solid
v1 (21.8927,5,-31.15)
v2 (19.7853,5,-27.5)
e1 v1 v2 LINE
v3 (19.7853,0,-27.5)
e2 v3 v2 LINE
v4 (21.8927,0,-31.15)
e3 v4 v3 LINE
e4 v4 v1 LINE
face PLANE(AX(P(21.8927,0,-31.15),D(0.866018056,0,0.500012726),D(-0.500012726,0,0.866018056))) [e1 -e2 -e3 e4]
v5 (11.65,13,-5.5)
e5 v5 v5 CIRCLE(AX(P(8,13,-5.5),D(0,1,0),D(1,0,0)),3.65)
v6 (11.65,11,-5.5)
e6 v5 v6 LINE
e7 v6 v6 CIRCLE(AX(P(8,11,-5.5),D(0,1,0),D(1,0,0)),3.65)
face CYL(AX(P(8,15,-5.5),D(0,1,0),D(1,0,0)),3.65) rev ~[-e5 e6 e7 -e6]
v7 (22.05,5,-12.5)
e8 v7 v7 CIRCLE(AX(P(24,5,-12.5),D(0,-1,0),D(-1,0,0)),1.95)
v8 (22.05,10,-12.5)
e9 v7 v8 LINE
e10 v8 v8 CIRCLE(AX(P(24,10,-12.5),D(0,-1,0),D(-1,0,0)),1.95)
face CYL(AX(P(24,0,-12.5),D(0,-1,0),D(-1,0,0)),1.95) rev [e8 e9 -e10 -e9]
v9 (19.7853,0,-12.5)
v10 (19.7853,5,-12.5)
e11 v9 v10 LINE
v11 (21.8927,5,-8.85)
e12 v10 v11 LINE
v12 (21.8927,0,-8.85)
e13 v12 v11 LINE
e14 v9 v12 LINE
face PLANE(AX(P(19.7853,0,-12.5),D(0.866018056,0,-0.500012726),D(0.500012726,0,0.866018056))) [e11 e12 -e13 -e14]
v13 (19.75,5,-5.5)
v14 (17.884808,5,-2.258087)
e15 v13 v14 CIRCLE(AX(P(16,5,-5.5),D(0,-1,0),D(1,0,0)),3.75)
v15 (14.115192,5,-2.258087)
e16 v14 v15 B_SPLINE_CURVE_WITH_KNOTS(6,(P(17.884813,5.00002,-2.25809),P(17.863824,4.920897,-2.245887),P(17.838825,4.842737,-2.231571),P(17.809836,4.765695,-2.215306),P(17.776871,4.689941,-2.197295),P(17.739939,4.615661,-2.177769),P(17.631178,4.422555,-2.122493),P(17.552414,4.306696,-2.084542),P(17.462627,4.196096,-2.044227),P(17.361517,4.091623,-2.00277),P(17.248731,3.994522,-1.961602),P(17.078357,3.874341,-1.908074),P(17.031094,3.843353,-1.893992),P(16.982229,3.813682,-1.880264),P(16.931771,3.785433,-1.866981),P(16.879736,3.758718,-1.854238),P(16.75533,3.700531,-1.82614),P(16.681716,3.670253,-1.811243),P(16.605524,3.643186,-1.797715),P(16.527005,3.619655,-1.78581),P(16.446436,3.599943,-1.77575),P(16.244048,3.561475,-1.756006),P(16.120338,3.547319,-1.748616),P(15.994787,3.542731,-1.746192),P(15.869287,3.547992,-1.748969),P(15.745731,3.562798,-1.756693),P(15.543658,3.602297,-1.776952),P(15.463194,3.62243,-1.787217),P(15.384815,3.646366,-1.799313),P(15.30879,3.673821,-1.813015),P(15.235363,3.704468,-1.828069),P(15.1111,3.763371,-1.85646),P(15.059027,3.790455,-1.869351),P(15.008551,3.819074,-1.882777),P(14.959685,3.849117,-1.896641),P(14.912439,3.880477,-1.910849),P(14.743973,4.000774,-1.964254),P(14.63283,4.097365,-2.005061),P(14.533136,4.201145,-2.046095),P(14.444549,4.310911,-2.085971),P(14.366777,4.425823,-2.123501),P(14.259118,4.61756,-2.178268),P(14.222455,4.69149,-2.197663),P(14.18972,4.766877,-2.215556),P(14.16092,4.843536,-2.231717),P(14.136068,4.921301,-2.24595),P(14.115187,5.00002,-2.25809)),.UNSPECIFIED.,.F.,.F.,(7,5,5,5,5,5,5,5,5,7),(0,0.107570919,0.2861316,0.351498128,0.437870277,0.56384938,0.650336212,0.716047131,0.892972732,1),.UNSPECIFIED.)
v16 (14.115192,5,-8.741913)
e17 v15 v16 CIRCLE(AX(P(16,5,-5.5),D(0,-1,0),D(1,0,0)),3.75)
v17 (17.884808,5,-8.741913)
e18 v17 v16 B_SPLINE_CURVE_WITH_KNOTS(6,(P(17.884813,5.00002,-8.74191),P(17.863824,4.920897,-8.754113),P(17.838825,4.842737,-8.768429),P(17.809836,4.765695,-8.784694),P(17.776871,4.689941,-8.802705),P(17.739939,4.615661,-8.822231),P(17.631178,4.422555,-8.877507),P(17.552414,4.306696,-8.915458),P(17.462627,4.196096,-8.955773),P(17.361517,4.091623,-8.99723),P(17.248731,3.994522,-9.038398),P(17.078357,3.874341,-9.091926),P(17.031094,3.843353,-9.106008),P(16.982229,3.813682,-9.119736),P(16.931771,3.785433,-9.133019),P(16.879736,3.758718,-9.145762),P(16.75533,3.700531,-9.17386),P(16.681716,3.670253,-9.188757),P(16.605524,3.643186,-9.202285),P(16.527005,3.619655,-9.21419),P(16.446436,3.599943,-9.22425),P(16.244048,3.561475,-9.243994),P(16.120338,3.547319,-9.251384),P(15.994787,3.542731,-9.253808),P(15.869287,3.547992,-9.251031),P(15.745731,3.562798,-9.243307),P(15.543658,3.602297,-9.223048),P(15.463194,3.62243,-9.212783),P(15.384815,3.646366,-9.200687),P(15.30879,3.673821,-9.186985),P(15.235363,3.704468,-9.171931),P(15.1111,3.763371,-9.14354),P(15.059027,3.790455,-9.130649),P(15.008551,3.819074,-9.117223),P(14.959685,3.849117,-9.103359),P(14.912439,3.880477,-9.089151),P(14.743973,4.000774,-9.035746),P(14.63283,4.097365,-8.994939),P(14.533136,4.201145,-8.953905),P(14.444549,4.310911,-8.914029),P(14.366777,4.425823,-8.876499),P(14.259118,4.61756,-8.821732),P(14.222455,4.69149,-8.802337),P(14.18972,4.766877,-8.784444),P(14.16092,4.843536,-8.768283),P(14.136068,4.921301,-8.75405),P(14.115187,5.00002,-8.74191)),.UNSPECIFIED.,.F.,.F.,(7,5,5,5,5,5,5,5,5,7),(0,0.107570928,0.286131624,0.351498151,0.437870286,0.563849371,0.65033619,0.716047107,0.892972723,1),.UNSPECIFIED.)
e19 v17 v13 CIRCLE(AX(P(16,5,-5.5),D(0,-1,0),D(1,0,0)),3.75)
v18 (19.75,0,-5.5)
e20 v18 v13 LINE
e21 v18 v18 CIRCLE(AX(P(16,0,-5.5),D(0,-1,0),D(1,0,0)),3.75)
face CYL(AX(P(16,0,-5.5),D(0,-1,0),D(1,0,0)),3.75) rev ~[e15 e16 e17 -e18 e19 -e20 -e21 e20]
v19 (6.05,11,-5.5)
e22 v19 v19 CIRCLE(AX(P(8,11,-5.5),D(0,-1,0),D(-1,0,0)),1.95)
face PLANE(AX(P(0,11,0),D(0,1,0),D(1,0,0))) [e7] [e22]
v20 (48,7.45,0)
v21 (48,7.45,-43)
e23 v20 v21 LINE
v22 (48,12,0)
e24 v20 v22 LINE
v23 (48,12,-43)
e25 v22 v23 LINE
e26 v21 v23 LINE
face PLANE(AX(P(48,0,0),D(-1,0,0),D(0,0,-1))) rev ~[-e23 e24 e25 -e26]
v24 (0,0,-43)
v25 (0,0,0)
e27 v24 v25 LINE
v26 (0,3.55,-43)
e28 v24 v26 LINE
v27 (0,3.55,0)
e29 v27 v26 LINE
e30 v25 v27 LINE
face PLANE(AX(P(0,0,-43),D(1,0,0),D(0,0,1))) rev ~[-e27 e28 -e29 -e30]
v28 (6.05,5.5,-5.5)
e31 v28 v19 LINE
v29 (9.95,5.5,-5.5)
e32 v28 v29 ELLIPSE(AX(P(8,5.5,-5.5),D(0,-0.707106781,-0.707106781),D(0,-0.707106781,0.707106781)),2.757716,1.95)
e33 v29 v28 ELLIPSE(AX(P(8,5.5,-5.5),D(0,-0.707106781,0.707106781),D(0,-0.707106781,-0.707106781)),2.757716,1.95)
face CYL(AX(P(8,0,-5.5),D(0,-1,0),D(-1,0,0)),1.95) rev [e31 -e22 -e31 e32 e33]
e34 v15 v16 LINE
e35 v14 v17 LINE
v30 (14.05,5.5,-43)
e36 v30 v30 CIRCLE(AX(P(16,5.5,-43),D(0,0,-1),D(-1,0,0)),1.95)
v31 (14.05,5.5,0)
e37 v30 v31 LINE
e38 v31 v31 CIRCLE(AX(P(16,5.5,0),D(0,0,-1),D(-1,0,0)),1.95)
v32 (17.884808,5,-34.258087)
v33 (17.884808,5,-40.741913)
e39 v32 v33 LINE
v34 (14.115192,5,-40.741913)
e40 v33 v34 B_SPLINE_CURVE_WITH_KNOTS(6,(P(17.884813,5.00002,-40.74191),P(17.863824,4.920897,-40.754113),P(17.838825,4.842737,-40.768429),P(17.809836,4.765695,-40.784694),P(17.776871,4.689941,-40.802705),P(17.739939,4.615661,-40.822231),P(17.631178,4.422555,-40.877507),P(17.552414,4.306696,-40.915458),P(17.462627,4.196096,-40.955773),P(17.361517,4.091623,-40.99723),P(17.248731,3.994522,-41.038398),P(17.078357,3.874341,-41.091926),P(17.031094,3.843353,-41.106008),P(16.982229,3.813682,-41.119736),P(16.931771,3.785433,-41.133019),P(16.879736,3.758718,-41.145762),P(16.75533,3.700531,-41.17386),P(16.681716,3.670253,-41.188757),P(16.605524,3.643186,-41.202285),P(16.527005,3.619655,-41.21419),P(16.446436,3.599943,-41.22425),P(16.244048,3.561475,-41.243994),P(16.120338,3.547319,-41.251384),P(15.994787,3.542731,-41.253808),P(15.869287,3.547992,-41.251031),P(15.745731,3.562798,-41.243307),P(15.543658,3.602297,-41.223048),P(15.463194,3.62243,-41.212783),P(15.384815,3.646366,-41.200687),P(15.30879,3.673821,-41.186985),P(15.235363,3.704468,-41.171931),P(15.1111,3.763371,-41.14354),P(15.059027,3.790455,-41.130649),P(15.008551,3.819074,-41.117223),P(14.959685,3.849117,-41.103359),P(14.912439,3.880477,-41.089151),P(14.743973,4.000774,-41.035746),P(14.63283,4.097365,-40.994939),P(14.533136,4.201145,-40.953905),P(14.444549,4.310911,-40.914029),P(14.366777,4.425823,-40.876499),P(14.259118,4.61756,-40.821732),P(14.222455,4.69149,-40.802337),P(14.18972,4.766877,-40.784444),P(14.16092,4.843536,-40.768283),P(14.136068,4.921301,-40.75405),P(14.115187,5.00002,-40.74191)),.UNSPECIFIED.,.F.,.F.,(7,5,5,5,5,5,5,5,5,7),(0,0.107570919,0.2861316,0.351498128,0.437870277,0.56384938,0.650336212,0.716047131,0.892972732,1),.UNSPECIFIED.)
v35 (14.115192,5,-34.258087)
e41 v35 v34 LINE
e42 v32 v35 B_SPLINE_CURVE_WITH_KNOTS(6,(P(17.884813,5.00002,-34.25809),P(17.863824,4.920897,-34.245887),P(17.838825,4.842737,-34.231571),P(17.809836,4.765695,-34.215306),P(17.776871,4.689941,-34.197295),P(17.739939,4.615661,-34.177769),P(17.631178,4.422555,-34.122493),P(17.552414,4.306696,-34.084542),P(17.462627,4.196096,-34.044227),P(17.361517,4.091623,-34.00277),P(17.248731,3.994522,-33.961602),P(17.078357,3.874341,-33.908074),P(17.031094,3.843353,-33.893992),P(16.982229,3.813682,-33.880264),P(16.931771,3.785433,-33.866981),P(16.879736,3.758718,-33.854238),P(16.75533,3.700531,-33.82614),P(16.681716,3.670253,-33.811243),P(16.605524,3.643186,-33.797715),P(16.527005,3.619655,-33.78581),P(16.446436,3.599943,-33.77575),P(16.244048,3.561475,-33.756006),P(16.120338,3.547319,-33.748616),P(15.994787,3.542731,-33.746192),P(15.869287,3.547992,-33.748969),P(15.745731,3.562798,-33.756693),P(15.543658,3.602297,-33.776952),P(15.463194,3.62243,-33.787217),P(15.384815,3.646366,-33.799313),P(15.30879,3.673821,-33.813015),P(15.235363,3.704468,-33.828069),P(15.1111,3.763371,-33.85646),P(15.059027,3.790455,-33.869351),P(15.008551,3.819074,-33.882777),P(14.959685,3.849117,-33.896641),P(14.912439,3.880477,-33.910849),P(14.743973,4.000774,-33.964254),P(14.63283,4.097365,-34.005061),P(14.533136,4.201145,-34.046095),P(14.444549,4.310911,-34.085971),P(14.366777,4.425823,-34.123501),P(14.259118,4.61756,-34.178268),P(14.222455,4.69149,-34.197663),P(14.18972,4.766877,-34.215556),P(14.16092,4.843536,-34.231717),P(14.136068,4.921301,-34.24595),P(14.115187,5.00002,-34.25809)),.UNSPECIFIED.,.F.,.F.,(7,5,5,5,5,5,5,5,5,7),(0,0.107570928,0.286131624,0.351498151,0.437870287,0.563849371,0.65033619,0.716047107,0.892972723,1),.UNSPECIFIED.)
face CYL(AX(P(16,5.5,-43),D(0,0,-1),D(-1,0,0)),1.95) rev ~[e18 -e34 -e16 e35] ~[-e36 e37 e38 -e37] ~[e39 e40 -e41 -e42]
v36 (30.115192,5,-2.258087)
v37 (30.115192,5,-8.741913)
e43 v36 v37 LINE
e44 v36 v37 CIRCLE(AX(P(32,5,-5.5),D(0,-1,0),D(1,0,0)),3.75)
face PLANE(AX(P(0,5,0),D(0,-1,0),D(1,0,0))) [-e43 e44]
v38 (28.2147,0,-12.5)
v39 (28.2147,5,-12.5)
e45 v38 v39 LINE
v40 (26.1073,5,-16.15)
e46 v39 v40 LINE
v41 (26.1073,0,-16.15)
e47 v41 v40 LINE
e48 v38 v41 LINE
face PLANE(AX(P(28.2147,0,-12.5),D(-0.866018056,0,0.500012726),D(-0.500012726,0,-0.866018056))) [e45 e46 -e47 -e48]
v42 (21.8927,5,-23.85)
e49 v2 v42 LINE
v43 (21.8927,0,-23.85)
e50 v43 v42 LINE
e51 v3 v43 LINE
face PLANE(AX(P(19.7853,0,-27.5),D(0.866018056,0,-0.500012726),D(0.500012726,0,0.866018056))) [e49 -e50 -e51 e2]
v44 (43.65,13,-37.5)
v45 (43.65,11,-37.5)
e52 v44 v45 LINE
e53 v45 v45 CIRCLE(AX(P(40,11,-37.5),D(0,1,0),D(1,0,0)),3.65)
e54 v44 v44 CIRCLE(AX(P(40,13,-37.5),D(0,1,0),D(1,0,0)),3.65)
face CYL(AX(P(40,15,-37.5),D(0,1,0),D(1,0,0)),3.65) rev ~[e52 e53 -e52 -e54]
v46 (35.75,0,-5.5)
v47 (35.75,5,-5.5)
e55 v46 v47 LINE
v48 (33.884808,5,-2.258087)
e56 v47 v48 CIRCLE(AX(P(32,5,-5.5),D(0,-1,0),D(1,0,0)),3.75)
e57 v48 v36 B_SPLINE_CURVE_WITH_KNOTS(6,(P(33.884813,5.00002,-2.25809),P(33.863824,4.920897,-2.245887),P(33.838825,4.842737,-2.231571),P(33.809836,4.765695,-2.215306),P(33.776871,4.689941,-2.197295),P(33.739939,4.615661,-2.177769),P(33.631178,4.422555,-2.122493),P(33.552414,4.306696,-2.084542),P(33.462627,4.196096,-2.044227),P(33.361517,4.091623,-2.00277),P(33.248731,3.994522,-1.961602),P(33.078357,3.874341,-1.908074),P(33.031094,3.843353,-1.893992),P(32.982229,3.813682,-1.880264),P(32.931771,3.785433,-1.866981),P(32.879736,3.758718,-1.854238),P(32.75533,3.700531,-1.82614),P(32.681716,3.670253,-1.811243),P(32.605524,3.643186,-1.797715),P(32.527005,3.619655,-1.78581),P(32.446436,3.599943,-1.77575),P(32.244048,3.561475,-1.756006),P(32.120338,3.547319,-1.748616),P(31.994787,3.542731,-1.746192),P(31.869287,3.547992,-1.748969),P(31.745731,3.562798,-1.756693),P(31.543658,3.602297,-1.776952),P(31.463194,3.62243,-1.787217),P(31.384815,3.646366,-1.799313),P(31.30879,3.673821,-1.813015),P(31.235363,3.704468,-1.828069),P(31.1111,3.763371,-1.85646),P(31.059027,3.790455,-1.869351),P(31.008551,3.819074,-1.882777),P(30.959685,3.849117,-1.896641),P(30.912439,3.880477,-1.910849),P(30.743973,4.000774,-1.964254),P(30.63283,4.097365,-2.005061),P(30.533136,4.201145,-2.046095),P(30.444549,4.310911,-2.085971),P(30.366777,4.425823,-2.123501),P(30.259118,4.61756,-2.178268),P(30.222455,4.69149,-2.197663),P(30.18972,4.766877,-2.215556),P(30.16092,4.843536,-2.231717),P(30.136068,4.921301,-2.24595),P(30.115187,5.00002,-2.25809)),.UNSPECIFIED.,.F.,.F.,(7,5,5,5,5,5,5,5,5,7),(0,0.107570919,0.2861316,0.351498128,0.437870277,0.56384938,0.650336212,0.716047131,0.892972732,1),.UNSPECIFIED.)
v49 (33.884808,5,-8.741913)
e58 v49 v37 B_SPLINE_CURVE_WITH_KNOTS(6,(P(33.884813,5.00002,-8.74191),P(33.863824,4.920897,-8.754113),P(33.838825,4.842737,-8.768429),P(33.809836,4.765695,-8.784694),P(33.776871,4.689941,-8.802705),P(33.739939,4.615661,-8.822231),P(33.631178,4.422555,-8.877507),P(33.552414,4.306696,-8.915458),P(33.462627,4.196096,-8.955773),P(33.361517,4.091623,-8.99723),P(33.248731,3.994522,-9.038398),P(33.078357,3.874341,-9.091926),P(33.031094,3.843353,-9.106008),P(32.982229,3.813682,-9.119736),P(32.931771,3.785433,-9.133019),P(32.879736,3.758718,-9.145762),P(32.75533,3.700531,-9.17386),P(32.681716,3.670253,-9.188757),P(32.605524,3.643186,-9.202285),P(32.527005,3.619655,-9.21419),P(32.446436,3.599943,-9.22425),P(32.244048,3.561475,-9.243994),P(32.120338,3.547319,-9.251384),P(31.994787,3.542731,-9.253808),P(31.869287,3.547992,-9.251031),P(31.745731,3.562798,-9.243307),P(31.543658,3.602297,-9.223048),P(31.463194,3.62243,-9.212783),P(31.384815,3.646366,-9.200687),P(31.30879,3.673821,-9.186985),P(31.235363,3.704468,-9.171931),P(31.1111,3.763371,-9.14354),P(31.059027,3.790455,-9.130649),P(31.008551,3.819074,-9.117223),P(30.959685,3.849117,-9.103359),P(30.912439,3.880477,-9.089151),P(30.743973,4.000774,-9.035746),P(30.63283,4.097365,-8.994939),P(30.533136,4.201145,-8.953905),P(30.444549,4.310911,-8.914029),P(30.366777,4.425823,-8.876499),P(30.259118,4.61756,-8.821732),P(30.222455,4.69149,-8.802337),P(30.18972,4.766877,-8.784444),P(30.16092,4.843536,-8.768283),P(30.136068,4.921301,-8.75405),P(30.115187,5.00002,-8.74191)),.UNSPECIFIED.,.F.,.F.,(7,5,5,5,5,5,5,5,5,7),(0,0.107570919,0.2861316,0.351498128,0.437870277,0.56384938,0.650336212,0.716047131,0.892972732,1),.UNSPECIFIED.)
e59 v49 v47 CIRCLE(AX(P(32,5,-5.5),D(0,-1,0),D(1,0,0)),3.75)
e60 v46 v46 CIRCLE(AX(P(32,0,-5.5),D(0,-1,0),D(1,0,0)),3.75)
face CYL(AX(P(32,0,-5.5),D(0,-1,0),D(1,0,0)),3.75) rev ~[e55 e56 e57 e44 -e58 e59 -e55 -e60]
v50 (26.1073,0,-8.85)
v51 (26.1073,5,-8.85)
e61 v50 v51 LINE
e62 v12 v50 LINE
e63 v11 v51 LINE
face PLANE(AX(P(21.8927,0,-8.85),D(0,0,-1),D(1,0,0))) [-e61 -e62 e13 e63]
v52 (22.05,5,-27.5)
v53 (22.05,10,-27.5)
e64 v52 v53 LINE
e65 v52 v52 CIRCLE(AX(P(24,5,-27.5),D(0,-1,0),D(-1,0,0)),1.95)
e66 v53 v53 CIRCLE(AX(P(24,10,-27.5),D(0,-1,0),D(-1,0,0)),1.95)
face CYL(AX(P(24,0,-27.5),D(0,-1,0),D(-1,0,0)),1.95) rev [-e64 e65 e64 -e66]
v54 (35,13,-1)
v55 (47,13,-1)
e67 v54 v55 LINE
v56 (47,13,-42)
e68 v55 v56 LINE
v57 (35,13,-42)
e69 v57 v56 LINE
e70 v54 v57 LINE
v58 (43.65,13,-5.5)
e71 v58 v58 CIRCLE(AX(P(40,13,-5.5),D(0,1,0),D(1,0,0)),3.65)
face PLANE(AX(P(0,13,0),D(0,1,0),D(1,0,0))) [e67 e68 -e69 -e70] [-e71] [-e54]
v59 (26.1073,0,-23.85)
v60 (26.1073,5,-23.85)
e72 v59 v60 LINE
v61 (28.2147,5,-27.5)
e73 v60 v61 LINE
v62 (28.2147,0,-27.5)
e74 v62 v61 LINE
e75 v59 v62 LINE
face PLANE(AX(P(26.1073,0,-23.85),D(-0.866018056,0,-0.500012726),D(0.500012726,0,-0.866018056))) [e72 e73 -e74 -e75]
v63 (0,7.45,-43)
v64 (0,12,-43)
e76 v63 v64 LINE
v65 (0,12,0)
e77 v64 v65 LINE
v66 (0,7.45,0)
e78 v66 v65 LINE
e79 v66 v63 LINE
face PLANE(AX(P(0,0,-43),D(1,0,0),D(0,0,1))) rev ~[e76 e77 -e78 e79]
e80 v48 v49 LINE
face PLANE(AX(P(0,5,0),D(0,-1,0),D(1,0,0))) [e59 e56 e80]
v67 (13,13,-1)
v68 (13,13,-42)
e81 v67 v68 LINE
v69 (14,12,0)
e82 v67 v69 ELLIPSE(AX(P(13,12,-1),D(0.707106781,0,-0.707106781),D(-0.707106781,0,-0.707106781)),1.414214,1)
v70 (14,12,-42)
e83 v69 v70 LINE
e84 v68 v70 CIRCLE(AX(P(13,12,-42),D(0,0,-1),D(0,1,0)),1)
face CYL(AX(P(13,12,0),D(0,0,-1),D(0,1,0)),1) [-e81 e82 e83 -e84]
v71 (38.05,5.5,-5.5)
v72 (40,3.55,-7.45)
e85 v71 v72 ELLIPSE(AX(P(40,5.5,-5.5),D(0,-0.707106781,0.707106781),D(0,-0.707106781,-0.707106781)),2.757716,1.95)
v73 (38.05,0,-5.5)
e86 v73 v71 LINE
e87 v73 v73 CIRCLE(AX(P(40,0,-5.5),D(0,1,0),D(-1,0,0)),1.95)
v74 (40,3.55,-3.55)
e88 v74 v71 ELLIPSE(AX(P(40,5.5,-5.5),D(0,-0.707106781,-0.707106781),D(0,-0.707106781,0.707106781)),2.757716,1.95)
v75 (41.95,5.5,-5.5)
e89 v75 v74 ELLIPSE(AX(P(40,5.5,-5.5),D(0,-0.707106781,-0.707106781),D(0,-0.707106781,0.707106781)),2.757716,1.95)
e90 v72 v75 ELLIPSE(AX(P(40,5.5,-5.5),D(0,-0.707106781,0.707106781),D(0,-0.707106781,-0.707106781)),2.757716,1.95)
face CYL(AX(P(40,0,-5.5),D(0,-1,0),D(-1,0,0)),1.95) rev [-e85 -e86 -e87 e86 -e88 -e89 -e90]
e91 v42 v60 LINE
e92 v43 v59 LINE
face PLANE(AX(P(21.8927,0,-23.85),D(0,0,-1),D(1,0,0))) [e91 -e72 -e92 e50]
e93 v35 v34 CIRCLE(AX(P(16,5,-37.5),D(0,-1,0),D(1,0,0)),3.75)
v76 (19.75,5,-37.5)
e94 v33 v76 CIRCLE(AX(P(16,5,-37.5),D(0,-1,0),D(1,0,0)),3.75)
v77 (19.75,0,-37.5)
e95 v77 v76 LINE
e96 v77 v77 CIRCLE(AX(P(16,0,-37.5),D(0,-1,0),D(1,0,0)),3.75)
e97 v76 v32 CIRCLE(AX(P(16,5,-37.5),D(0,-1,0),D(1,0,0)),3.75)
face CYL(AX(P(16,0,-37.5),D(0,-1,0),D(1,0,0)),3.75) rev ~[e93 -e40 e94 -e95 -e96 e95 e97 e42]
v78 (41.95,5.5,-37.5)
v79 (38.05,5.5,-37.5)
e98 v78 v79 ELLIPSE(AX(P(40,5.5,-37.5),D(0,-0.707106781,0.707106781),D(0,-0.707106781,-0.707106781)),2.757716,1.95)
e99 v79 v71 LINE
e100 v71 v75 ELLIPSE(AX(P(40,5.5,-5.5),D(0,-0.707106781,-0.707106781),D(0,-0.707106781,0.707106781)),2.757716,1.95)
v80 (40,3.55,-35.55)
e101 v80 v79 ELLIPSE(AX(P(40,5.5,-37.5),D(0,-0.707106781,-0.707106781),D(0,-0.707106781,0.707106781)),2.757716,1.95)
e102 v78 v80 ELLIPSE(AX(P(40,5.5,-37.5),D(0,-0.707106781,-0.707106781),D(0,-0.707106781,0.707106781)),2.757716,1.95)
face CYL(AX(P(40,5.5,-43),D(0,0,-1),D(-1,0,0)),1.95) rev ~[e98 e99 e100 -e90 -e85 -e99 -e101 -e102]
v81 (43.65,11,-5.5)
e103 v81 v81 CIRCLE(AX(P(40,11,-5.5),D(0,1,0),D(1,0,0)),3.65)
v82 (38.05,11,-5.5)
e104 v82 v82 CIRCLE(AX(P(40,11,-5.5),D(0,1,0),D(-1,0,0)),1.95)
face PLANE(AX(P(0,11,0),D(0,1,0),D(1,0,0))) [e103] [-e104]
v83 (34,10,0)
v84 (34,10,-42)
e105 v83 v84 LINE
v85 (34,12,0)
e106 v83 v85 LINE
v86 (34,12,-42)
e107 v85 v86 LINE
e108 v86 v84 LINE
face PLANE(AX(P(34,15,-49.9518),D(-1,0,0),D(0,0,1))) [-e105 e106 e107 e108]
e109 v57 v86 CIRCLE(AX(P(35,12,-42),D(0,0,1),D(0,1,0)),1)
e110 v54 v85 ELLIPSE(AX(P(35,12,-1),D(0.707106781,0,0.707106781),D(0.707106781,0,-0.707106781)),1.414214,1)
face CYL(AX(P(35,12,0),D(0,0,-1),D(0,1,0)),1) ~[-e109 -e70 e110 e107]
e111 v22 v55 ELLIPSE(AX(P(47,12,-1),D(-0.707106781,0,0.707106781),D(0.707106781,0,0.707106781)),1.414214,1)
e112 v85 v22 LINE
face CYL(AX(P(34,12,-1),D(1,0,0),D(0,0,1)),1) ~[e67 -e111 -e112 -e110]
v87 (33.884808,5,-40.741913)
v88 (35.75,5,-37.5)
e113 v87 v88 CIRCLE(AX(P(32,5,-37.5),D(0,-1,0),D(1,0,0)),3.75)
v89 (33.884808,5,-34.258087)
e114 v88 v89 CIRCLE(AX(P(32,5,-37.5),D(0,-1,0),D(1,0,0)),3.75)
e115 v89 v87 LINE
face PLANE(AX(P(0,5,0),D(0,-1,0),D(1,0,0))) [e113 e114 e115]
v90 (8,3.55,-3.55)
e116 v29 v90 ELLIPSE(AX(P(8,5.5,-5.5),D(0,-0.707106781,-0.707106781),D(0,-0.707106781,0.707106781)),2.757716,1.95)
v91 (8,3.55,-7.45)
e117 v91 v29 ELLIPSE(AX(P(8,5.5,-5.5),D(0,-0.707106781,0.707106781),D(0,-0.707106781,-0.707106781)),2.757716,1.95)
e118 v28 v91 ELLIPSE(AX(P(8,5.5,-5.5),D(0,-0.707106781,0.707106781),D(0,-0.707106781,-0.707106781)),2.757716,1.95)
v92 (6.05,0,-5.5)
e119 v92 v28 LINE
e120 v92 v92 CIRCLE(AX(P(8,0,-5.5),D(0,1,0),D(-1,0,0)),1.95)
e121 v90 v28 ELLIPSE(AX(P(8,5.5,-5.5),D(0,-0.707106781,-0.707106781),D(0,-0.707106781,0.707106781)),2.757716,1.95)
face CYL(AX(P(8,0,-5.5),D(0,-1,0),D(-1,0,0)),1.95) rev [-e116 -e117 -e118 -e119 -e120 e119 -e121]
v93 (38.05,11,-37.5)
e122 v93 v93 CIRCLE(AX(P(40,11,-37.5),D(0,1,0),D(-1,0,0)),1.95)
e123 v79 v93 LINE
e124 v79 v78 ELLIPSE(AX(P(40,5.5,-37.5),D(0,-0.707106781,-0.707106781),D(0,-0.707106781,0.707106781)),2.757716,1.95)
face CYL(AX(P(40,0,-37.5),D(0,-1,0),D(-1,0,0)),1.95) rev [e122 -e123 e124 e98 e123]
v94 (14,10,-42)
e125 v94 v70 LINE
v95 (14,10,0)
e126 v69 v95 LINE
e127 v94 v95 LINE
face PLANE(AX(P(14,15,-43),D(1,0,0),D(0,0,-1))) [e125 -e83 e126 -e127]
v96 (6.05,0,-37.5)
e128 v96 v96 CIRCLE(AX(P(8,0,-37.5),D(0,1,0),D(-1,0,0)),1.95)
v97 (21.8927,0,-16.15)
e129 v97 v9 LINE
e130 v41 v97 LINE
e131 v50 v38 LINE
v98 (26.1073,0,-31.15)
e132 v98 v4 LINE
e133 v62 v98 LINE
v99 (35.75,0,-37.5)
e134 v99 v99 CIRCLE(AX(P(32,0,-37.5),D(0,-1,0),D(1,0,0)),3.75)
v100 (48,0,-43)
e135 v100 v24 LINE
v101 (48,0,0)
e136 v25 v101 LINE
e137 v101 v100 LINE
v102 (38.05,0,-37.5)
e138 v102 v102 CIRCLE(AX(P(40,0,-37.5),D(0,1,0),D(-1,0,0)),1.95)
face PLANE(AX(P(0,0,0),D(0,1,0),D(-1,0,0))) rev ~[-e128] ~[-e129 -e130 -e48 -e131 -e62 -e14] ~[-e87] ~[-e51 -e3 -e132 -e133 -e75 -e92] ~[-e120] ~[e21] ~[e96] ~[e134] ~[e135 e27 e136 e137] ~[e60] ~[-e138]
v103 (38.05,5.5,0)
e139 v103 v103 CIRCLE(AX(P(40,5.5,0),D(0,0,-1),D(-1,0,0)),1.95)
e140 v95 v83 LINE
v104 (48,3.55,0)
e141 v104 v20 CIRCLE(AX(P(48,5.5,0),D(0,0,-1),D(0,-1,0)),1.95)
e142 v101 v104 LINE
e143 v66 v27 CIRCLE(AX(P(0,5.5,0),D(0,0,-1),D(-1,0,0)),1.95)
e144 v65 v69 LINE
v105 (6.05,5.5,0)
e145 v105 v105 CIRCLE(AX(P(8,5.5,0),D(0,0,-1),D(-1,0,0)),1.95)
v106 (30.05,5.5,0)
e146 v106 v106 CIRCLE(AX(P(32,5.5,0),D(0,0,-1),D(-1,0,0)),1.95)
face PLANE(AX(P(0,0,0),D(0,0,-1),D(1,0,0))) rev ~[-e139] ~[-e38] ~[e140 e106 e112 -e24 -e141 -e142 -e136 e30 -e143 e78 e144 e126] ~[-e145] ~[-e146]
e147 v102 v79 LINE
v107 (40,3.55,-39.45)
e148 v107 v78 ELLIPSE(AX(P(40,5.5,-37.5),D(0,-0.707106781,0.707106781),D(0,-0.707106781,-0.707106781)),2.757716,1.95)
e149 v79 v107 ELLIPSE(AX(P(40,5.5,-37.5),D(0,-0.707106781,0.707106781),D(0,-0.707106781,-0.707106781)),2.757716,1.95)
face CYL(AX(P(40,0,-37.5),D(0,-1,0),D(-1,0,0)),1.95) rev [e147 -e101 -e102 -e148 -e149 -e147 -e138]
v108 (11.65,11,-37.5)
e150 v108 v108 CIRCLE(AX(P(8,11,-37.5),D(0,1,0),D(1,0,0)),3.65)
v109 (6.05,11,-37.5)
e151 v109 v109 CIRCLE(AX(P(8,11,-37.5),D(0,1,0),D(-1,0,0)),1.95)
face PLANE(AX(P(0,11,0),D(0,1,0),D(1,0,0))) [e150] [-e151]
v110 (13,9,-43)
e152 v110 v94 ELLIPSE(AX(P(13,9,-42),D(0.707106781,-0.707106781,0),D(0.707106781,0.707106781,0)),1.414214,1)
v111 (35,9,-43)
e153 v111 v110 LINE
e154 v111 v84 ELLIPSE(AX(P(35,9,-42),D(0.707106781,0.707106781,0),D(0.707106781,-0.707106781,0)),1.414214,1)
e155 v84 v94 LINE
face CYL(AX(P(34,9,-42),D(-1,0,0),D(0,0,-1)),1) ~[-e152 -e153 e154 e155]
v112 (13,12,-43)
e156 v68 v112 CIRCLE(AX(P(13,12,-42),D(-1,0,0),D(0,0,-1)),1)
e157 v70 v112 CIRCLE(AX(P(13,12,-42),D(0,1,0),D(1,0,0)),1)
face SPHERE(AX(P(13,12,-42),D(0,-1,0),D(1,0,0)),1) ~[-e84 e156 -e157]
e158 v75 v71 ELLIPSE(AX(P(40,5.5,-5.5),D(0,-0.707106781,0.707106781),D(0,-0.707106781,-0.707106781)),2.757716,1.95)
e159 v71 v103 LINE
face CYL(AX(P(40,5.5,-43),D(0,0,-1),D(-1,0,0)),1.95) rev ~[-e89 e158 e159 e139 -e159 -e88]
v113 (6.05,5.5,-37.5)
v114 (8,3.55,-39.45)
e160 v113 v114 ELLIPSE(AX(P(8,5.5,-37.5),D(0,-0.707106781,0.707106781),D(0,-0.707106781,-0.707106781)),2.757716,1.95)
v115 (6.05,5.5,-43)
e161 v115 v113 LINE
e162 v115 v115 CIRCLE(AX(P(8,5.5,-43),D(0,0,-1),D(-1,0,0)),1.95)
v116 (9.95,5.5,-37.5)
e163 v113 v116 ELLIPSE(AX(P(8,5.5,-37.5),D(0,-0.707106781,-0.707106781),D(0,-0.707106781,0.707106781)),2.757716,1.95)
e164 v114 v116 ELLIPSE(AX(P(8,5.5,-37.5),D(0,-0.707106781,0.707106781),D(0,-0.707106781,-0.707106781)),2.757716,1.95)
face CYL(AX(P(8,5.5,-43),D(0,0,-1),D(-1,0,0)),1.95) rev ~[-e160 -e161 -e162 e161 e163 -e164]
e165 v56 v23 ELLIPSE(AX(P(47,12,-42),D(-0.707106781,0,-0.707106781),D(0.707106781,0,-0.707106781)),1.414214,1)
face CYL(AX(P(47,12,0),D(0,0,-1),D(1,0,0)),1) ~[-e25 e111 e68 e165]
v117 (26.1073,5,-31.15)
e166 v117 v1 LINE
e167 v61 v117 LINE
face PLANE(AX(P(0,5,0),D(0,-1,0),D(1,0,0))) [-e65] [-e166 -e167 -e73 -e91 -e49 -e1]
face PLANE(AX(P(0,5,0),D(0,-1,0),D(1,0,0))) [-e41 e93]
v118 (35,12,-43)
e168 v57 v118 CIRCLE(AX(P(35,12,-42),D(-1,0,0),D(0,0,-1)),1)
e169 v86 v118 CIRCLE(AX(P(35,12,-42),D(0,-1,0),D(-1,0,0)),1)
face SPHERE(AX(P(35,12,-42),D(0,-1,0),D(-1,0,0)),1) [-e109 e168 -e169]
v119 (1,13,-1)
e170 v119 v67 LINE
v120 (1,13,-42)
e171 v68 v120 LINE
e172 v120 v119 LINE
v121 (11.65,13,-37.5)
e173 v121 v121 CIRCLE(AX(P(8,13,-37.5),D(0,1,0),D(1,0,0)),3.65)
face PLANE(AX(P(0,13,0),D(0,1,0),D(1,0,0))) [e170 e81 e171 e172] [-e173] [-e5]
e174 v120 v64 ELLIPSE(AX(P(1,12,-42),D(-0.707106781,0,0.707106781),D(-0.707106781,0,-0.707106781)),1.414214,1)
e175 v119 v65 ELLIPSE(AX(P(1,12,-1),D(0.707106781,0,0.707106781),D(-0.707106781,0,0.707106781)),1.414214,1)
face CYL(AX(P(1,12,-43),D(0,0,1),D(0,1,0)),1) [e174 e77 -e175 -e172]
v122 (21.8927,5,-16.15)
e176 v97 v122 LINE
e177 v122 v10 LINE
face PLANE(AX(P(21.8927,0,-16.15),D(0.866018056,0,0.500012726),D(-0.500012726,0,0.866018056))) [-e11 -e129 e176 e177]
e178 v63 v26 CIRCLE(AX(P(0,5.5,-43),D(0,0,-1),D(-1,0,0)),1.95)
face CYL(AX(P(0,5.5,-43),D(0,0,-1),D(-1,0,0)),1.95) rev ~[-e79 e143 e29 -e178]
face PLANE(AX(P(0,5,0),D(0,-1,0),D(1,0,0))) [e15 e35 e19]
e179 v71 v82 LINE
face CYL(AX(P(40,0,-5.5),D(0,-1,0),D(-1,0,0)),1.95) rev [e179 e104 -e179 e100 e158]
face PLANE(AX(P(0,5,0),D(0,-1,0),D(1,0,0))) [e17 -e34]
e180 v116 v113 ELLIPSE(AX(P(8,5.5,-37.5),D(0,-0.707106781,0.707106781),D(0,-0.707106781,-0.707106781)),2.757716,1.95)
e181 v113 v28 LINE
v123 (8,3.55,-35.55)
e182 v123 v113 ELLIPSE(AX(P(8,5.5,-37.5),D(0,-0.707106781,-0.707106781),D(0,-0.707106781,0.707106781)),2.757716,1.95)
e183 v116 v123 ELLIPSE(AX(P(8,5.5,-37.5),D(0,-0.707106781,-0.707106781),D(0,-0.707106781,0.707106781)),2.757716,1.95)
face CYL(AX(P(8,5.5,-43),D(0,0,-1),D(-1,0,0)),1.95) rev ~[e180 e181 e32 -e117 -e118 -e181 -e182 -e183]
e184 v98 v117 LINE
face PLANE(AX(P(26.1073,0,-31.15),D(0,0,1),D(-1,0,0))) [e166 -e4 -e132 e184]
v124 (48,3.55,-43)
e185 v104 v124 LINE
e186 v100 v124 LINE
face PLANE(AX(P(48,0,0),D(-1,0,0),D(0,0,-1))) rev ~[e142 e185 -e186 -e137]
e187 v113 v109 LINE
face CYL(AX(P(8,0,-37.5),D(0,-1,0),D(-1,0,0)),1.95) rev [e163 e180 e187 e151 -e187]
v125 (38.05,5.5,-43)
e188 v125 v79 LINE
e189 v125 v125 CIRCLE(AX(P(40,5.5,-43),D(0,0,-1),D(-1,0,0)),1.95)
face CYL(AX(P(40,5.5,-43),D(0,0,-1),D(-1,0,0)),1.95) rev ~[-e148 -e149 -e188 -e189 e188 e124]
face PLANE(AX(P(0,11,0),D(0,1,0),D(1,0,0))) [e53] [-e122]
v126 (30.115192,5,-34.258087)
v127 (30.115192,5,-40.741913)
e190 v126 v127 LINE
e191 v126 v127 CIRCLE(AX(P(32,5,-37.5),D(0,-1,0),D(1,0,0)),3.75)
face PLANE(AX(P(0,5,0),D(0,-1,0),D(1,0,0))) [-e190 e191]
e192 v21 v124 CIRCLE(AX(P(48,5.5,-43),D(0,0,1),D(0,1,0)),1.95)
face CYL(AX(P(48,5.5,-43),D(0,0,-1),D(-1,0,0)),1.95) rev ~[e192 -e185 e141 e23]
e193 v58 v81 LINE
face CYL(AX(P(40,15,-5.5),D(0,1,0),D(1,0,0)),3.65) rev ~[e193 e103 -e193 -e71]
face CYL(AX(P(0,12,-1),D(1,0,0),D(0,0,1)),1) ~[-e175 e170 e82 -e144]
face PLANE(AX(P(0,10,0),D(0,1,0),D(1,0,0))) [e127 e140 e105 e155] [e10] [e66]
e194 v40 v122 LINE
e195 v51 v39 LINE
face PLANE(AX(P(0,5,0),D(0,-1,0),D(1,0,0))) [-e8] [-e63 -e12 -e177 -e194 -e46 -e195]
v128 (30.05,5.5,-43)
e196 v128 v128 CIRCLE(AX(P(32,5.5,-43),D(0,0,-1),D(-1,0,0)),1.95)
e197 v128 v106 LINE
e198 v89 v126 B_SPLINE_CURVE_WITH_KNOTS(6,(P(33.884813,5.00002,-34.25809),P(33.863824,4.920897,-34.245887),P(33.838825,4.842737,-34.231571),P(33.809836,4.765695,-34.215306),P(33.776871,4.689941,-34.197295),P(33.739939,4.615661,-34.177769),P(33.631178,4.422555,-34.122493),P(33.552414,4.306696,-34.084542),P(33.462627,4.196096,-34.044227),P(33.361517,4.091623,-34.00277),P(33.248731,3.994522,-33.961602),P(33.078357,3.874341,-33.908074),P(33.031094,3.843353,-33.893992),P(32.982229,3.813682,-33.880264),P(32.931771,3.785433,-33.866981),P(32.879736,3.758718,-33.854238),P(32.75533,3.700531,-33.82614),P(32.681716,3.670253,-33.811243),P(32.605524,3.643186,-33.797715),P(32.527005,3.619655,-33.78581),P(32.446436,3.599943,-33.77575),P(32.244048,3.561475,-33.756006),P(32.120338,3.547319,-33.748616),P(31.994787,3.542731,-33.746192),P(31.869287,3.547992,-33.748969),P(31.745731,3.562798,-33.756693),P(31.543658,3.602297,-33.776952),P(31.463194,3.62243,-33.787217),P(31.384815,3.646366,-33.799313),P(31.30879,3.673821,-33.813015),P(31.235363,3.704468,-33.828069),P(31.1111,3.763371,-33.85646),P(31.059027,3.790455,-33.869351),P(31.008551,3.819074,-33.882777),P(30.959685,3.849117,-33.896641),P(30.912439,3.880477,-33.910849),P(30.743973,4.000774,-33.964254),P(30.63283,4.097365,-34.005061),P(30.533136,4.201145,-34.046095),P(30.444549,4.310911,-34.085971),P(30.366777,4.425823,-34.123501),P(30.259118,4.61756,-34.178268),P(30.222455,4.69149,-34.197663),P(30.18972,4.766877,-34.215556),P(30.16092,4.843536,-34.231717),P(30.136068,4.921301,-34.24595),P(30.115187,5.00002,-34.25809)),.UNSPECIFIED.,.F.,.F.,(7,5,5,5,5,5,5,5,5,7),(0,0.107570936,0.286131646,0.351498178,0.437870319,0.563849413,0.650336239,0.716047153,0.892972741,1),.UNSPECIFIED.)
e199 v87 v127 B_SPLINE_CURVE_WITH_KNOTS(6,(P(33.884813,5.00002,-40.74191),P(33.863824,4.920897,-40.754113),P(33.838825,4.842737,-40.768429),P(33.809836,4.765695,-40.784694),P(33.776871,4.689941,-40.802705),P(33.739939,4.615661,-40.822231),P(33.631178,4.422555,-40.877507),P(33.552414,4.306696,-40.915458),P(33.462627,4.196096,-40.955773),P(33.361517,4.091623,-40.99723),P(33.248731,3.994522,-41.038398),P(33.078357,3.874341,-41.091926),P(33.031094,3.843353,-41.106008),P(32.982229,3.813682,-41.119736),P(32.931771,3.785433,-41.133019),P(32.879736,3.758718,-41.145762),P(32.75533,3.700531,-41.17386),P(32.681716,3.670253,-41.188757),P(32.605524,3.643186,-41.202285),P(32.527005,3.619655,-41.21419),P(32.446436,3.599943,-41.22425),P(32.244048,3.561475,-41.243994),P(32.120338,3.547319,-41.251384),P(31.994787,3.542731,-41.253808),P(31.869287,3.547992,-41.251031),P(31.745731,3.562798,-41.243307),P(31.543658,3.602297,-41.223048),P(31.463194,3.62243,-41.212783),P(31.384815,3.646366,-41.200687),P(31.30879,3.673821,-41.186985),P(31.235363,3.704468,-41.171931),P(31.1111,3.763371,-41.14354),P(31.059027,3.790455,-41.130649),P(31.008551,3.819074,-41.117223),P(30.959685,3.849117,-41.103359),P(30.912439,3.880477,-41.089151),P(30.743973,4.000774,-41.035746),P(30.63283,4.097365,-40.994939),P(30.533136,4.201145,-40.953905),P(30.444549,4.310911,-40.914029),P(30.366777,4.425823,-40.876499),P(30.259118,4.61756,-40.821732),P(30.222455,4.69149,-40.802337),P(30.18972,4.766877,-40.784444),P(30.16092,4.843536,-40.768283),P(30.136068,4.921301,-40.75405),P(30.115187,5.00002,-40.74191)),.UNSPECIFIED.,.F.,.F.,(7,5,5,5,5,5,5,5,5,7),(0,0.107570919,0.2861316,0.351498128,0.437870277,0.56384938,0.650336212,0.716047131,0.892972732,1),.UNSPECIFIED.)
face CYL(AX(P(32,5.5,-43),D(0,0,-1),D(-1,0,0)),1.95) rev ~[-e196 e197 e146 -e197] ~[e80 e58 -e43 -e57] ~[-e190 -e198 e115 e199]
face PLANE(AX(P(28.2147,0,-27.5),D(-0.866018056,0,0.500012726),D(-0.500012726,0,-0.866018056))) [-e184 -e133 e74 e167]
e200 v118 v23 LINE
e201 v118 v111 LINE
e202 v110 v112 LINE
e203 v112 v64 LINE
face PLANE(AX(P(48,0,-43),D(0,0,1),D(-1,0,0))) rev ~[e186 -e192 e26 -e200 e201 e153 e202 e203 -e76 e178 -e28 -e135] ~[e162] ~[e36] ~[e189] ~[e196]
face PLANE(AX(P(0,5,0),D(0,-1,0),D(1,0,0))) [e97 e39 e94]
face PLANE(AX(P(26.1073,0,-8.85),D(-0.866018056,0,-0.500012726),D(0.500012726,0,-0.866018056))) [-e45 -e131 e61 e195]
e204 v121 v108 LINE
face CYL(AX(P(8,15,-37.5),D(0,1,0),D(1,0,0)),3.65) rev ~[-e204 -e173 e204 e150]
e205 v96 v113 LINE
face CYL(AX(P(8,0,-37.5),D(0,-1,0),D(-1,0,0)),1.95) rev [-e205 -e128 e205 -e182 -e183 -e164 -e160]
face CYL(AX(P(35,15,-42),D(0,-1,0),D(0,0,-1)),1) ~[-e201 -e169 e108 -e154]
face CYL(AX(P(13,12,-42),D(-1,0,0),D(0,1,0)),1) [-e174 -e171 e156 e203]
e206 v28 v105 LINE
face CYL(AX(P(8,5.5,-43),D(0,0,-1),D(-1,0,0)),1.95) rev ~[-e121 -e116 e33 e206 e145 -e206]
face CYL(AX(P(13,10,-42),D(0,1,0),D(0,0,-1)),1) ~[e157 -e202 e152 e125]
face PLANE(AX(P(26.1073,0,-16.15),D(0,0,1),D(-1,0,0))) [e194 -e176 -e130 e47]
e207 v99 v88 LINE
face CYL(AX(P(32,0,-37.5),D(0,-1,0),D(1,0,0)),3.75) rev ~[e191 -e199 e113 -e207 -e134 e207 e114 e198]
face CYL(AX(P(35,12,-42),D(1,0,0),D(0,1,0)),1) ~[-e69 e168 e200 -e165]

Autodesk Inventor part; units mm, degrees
ref_plane "YZ Plane" through (0, 0, 0) normal (1, 0, 0) x (0, 1, 0)
ref_plane "XZ Plane" through (0, 0, 0) normal (0, 1, 0) x (-1, 0, 0)
ref_plane "XY Plane" through (0, 0, 0) normal (0, 0, 1) x (1, 0, 0)
sketch "Sketch1" plane through (0, 0, 0) normal (0, 1, 0) x (-1, 0, 0)
  line L0 (0, 0) -> (-48, 0)
  line L1 (-48, 0) -> (-48, -43)
  line L2 (-48, -43) -> (0, -43)
  line L3 (0, -43) -> (0, 0)
  circle A0 centre (-24, -27.5) radius 1.95
  circle A1 centre (-24, -12.5) radius 1.95
  circle A2 centre (-8, -5.5) radius 1.95
  circle A3 centre (-40, -5.5) radius 1.95
  circle A4 centre (-40, -37.5) radius 1.95
  circle A5 centre (-8, -37.5) radius 1.95
  point P0 (-24, -43)
  dimension "d0" = 48
  dimension "d1" = 43
  dimension "d2" = 3.9
  dimension "d3" = 3.9
  dimension "d4" = 15
  dimension "d5" = 12.5
  dimension "d6" = 3.9
  dimension "d7" = 3.9
  dimension "d8" = 3.9
  dimension "d9" = 3.9
  dimension "d10" = 32
  dimension "d11" = 8
  dimension "d12" = 5.5
  dimension "d13" = 5.5
extrude "Extrusion1" add sketch "Sketch1" along normal blind 15
sketch "Sketch2" plane through (0, 15, 0) normal (0, 1, 0) x (1, 0, 0)
  line L0 (14, 49.9518) -> (34, 49.9518)
  line L1 (34, 49.9518) -> (34, -4.9916)
  line L2 (34, -4.9916) -> (14, -4.9916)
  line L3 (14, -4.9916) -> (14, 49.9518)
  line L4 (48, 43) -> (0, 43) projected
  point P0 (0, 0)
  point P1 (24, 49.9518)
  point P2 (24, 43)
  dimension "d16" = 20
extrude "Extrusion2" cut sketch "Sketch2" against normal blind 5
sketch "Sketch3" plane through (48, 0, -43) normal (0, 0, -1) x (-1, 0, 0)
  circle A0 centre (16, 5.5) radius 1.95
  circle A1 centre (24, 5.5) radius 1.95
  circle A2 centre (32, 5.5) radius 1.95
  line L0 (34, 10) -> (14, 10) projected
  line L1 (0, 0) -> (48, 0) projected
  circle A3 centre (8, 5.5) radius 1.95
  circle A4 centre (40, 5.5) radius 1.95
  circle A5 centre (0, 5.5) radius 1.95
  circle A6 centre (48, 5.5) radius 1.95
  point P0 (24, 10)
  dimension "d19" = 3.9
  dimension "d20" = 3.9
  dimension "d21" = 3.9
  dimension "d22" = 8
  dimension "d23" = 8
  dimension "d24" = 5.5
  dimension "d25" = 3.9
  dimension "d26" = 3.9
  dimension "d27" = 8
  dimension "d28" = 8
  dimension "d29" = 3.9
  dimension "d30" = 3.9
  dimension "d31" = 8
  dimension "d32" = 8
extrude "Extrusion3" cut sketch "Sketch3" against normal through all contours A0 | A2 | A3 | A4 | A5 | A6
sketch "Sketch4" plane through (0, 0, 0) normal (0, -1, 0) x (1, 0, 0)
  circle A0 centre (16, -5.5) radius 3.75
  circle A1 centre (16, -37.5) radius 3.75
  circle A2 centre (32, -37.5) radius 3.75
  circle A3 centre (32, -5.5) radius 3.75
  line L0 (0, 0) -> (48, 0) projected
  circle A4 centre (40, -5.5) radius 1.95 projected
  dimension "d35" = 7.5
  dimension "d36" = 7.5
  dimension "d37" = 7.5
  dimension "d38" = 7.5
  dimension "d39" = 16
  dimension "d40" = 5.5
  dimension "d41" = 8
  dimension "d42" = 32
extrude "Extrusion4" cut sketch "Sketch4" against normal blind 5 contours A0 | A1 | A2 | A3
fillet "Fillet1" radius 1 11 edges at (14, 15, -21.5) (34, 15, -21.5) (0, 15, -21.5) (48, 15, -21.5) (7, 15, -43) (41, 15, -43) (7, 15, 0) (41, 15, 0) (34, 12.5, -43) (14, 12.5, -43) (24, 10, -43)
sketch "Sketch5" plane through (0, 15, 0) normal (0, 1, 0) x (1, 0, 0)
  circle A0 centre (8, 5.5) radius 3.65
  circle A1 centre (40, 5.5) radius 3.65
  circle A2 centre (8, 37.5) radius 3.65
  circle A3 centre (40, 37.5) radius 3.65
  circle A4 centre (40, 37.5) radius 1.95 projected
  circle A5 centre (40, 5.5) radius 1.95 projected
  circle A6 centre (8, 37.5) radius 1.95 projected
  point P0 (0, 0)
  dimension "d46" = 7.3
  dimension "d47" = 7.3
  dimension "d48" = 7.3
  dimension "d49" = 7.3
extrude "Extrusion5" cut sketch "Sketch5" against normal blind 4
sketch "Sketch6" plane through (0, 0, 0) normal (0, -1, 0) x (1, 0, 0)
  line L0 (21.8927, -23.85) -> (26.1073, -23.85)
  line L1 (26.1073, -23.85) -> (28.2147, -27.5)
  line L2 (28.2147, -27.5) -> (26.1073, -31.15)
  line L3 (26.1073, -31.15) -> (21.8927, -31.15)
  line L4 (21.8927, -31.15) -> (19.7853, -27.5)
  line L5 (19.7853, -27.5) -> (21.8927, -23.85)
  line L6 (48, -43) -> (0, -43) projected
  line L7 (48, 0) -> (48, -43) projected
  line L8 (0, 0) -> (48, 0) projected
  line L9 (26.1073, -16.15) -> (21.8927, -16.15)
  line L10 (21.8927, -16.15) -> (19.7853, -12.5)
  line L11 (19.7853, -12.5) -> (21.8927, -8.85)
  line L12 (21.8927, -8.85) -> (26.1073, -8.85)
  line L13 (26.1073, -8.85) -> (28.2147, -12.5)
  line L14 (28.2147, -12.5) -> (26.1073, -16.15)
  point P0 (24, -27.5)
  point P1 (24, -12.5)
  dimension "d52" = 7.3
  dimension "d53" = 24
  dimension "d55" = 27.5
  dimension "d56" = 7.3
  dimension "d57" = 12.5
  dimension "d58" = 24
extrude "Extrusion6" cut sketch "Sketch6" against normal blind 5
sketch "Sketch7" plane through (0, 15, 0) normal (0, 1, 0) x (1, 0, 0)
  line L0 (-2.812, 43.9982) -> (53.4288, 43.9982)
  line L1 (53.4288, 43.9982) -> (53.4288, -3.3264)
  line L2 (53.4288, -3.3264) -> (-2.812, -3.3264)
  line L3 (-2.812, -3.3264) -> (-2.812, 43.9982)
  point P0 (0, 0)
extrude "Extrusion7" cut sketch "Sketch7" against normal blind 2
fillet "Fillet2" radius 1 10 edges at (13.7071, 13, -42.7071) (6.5, 13, -43) (14, 13, -21) (34.2929, 13, -42.7071) (41.5, 13, -43) (34, 13, -21) (41, 13, 0) (48, 13, -21.5) (0, 13, -21.5) (7, 13, 0)
properties part number "slidesmount"
